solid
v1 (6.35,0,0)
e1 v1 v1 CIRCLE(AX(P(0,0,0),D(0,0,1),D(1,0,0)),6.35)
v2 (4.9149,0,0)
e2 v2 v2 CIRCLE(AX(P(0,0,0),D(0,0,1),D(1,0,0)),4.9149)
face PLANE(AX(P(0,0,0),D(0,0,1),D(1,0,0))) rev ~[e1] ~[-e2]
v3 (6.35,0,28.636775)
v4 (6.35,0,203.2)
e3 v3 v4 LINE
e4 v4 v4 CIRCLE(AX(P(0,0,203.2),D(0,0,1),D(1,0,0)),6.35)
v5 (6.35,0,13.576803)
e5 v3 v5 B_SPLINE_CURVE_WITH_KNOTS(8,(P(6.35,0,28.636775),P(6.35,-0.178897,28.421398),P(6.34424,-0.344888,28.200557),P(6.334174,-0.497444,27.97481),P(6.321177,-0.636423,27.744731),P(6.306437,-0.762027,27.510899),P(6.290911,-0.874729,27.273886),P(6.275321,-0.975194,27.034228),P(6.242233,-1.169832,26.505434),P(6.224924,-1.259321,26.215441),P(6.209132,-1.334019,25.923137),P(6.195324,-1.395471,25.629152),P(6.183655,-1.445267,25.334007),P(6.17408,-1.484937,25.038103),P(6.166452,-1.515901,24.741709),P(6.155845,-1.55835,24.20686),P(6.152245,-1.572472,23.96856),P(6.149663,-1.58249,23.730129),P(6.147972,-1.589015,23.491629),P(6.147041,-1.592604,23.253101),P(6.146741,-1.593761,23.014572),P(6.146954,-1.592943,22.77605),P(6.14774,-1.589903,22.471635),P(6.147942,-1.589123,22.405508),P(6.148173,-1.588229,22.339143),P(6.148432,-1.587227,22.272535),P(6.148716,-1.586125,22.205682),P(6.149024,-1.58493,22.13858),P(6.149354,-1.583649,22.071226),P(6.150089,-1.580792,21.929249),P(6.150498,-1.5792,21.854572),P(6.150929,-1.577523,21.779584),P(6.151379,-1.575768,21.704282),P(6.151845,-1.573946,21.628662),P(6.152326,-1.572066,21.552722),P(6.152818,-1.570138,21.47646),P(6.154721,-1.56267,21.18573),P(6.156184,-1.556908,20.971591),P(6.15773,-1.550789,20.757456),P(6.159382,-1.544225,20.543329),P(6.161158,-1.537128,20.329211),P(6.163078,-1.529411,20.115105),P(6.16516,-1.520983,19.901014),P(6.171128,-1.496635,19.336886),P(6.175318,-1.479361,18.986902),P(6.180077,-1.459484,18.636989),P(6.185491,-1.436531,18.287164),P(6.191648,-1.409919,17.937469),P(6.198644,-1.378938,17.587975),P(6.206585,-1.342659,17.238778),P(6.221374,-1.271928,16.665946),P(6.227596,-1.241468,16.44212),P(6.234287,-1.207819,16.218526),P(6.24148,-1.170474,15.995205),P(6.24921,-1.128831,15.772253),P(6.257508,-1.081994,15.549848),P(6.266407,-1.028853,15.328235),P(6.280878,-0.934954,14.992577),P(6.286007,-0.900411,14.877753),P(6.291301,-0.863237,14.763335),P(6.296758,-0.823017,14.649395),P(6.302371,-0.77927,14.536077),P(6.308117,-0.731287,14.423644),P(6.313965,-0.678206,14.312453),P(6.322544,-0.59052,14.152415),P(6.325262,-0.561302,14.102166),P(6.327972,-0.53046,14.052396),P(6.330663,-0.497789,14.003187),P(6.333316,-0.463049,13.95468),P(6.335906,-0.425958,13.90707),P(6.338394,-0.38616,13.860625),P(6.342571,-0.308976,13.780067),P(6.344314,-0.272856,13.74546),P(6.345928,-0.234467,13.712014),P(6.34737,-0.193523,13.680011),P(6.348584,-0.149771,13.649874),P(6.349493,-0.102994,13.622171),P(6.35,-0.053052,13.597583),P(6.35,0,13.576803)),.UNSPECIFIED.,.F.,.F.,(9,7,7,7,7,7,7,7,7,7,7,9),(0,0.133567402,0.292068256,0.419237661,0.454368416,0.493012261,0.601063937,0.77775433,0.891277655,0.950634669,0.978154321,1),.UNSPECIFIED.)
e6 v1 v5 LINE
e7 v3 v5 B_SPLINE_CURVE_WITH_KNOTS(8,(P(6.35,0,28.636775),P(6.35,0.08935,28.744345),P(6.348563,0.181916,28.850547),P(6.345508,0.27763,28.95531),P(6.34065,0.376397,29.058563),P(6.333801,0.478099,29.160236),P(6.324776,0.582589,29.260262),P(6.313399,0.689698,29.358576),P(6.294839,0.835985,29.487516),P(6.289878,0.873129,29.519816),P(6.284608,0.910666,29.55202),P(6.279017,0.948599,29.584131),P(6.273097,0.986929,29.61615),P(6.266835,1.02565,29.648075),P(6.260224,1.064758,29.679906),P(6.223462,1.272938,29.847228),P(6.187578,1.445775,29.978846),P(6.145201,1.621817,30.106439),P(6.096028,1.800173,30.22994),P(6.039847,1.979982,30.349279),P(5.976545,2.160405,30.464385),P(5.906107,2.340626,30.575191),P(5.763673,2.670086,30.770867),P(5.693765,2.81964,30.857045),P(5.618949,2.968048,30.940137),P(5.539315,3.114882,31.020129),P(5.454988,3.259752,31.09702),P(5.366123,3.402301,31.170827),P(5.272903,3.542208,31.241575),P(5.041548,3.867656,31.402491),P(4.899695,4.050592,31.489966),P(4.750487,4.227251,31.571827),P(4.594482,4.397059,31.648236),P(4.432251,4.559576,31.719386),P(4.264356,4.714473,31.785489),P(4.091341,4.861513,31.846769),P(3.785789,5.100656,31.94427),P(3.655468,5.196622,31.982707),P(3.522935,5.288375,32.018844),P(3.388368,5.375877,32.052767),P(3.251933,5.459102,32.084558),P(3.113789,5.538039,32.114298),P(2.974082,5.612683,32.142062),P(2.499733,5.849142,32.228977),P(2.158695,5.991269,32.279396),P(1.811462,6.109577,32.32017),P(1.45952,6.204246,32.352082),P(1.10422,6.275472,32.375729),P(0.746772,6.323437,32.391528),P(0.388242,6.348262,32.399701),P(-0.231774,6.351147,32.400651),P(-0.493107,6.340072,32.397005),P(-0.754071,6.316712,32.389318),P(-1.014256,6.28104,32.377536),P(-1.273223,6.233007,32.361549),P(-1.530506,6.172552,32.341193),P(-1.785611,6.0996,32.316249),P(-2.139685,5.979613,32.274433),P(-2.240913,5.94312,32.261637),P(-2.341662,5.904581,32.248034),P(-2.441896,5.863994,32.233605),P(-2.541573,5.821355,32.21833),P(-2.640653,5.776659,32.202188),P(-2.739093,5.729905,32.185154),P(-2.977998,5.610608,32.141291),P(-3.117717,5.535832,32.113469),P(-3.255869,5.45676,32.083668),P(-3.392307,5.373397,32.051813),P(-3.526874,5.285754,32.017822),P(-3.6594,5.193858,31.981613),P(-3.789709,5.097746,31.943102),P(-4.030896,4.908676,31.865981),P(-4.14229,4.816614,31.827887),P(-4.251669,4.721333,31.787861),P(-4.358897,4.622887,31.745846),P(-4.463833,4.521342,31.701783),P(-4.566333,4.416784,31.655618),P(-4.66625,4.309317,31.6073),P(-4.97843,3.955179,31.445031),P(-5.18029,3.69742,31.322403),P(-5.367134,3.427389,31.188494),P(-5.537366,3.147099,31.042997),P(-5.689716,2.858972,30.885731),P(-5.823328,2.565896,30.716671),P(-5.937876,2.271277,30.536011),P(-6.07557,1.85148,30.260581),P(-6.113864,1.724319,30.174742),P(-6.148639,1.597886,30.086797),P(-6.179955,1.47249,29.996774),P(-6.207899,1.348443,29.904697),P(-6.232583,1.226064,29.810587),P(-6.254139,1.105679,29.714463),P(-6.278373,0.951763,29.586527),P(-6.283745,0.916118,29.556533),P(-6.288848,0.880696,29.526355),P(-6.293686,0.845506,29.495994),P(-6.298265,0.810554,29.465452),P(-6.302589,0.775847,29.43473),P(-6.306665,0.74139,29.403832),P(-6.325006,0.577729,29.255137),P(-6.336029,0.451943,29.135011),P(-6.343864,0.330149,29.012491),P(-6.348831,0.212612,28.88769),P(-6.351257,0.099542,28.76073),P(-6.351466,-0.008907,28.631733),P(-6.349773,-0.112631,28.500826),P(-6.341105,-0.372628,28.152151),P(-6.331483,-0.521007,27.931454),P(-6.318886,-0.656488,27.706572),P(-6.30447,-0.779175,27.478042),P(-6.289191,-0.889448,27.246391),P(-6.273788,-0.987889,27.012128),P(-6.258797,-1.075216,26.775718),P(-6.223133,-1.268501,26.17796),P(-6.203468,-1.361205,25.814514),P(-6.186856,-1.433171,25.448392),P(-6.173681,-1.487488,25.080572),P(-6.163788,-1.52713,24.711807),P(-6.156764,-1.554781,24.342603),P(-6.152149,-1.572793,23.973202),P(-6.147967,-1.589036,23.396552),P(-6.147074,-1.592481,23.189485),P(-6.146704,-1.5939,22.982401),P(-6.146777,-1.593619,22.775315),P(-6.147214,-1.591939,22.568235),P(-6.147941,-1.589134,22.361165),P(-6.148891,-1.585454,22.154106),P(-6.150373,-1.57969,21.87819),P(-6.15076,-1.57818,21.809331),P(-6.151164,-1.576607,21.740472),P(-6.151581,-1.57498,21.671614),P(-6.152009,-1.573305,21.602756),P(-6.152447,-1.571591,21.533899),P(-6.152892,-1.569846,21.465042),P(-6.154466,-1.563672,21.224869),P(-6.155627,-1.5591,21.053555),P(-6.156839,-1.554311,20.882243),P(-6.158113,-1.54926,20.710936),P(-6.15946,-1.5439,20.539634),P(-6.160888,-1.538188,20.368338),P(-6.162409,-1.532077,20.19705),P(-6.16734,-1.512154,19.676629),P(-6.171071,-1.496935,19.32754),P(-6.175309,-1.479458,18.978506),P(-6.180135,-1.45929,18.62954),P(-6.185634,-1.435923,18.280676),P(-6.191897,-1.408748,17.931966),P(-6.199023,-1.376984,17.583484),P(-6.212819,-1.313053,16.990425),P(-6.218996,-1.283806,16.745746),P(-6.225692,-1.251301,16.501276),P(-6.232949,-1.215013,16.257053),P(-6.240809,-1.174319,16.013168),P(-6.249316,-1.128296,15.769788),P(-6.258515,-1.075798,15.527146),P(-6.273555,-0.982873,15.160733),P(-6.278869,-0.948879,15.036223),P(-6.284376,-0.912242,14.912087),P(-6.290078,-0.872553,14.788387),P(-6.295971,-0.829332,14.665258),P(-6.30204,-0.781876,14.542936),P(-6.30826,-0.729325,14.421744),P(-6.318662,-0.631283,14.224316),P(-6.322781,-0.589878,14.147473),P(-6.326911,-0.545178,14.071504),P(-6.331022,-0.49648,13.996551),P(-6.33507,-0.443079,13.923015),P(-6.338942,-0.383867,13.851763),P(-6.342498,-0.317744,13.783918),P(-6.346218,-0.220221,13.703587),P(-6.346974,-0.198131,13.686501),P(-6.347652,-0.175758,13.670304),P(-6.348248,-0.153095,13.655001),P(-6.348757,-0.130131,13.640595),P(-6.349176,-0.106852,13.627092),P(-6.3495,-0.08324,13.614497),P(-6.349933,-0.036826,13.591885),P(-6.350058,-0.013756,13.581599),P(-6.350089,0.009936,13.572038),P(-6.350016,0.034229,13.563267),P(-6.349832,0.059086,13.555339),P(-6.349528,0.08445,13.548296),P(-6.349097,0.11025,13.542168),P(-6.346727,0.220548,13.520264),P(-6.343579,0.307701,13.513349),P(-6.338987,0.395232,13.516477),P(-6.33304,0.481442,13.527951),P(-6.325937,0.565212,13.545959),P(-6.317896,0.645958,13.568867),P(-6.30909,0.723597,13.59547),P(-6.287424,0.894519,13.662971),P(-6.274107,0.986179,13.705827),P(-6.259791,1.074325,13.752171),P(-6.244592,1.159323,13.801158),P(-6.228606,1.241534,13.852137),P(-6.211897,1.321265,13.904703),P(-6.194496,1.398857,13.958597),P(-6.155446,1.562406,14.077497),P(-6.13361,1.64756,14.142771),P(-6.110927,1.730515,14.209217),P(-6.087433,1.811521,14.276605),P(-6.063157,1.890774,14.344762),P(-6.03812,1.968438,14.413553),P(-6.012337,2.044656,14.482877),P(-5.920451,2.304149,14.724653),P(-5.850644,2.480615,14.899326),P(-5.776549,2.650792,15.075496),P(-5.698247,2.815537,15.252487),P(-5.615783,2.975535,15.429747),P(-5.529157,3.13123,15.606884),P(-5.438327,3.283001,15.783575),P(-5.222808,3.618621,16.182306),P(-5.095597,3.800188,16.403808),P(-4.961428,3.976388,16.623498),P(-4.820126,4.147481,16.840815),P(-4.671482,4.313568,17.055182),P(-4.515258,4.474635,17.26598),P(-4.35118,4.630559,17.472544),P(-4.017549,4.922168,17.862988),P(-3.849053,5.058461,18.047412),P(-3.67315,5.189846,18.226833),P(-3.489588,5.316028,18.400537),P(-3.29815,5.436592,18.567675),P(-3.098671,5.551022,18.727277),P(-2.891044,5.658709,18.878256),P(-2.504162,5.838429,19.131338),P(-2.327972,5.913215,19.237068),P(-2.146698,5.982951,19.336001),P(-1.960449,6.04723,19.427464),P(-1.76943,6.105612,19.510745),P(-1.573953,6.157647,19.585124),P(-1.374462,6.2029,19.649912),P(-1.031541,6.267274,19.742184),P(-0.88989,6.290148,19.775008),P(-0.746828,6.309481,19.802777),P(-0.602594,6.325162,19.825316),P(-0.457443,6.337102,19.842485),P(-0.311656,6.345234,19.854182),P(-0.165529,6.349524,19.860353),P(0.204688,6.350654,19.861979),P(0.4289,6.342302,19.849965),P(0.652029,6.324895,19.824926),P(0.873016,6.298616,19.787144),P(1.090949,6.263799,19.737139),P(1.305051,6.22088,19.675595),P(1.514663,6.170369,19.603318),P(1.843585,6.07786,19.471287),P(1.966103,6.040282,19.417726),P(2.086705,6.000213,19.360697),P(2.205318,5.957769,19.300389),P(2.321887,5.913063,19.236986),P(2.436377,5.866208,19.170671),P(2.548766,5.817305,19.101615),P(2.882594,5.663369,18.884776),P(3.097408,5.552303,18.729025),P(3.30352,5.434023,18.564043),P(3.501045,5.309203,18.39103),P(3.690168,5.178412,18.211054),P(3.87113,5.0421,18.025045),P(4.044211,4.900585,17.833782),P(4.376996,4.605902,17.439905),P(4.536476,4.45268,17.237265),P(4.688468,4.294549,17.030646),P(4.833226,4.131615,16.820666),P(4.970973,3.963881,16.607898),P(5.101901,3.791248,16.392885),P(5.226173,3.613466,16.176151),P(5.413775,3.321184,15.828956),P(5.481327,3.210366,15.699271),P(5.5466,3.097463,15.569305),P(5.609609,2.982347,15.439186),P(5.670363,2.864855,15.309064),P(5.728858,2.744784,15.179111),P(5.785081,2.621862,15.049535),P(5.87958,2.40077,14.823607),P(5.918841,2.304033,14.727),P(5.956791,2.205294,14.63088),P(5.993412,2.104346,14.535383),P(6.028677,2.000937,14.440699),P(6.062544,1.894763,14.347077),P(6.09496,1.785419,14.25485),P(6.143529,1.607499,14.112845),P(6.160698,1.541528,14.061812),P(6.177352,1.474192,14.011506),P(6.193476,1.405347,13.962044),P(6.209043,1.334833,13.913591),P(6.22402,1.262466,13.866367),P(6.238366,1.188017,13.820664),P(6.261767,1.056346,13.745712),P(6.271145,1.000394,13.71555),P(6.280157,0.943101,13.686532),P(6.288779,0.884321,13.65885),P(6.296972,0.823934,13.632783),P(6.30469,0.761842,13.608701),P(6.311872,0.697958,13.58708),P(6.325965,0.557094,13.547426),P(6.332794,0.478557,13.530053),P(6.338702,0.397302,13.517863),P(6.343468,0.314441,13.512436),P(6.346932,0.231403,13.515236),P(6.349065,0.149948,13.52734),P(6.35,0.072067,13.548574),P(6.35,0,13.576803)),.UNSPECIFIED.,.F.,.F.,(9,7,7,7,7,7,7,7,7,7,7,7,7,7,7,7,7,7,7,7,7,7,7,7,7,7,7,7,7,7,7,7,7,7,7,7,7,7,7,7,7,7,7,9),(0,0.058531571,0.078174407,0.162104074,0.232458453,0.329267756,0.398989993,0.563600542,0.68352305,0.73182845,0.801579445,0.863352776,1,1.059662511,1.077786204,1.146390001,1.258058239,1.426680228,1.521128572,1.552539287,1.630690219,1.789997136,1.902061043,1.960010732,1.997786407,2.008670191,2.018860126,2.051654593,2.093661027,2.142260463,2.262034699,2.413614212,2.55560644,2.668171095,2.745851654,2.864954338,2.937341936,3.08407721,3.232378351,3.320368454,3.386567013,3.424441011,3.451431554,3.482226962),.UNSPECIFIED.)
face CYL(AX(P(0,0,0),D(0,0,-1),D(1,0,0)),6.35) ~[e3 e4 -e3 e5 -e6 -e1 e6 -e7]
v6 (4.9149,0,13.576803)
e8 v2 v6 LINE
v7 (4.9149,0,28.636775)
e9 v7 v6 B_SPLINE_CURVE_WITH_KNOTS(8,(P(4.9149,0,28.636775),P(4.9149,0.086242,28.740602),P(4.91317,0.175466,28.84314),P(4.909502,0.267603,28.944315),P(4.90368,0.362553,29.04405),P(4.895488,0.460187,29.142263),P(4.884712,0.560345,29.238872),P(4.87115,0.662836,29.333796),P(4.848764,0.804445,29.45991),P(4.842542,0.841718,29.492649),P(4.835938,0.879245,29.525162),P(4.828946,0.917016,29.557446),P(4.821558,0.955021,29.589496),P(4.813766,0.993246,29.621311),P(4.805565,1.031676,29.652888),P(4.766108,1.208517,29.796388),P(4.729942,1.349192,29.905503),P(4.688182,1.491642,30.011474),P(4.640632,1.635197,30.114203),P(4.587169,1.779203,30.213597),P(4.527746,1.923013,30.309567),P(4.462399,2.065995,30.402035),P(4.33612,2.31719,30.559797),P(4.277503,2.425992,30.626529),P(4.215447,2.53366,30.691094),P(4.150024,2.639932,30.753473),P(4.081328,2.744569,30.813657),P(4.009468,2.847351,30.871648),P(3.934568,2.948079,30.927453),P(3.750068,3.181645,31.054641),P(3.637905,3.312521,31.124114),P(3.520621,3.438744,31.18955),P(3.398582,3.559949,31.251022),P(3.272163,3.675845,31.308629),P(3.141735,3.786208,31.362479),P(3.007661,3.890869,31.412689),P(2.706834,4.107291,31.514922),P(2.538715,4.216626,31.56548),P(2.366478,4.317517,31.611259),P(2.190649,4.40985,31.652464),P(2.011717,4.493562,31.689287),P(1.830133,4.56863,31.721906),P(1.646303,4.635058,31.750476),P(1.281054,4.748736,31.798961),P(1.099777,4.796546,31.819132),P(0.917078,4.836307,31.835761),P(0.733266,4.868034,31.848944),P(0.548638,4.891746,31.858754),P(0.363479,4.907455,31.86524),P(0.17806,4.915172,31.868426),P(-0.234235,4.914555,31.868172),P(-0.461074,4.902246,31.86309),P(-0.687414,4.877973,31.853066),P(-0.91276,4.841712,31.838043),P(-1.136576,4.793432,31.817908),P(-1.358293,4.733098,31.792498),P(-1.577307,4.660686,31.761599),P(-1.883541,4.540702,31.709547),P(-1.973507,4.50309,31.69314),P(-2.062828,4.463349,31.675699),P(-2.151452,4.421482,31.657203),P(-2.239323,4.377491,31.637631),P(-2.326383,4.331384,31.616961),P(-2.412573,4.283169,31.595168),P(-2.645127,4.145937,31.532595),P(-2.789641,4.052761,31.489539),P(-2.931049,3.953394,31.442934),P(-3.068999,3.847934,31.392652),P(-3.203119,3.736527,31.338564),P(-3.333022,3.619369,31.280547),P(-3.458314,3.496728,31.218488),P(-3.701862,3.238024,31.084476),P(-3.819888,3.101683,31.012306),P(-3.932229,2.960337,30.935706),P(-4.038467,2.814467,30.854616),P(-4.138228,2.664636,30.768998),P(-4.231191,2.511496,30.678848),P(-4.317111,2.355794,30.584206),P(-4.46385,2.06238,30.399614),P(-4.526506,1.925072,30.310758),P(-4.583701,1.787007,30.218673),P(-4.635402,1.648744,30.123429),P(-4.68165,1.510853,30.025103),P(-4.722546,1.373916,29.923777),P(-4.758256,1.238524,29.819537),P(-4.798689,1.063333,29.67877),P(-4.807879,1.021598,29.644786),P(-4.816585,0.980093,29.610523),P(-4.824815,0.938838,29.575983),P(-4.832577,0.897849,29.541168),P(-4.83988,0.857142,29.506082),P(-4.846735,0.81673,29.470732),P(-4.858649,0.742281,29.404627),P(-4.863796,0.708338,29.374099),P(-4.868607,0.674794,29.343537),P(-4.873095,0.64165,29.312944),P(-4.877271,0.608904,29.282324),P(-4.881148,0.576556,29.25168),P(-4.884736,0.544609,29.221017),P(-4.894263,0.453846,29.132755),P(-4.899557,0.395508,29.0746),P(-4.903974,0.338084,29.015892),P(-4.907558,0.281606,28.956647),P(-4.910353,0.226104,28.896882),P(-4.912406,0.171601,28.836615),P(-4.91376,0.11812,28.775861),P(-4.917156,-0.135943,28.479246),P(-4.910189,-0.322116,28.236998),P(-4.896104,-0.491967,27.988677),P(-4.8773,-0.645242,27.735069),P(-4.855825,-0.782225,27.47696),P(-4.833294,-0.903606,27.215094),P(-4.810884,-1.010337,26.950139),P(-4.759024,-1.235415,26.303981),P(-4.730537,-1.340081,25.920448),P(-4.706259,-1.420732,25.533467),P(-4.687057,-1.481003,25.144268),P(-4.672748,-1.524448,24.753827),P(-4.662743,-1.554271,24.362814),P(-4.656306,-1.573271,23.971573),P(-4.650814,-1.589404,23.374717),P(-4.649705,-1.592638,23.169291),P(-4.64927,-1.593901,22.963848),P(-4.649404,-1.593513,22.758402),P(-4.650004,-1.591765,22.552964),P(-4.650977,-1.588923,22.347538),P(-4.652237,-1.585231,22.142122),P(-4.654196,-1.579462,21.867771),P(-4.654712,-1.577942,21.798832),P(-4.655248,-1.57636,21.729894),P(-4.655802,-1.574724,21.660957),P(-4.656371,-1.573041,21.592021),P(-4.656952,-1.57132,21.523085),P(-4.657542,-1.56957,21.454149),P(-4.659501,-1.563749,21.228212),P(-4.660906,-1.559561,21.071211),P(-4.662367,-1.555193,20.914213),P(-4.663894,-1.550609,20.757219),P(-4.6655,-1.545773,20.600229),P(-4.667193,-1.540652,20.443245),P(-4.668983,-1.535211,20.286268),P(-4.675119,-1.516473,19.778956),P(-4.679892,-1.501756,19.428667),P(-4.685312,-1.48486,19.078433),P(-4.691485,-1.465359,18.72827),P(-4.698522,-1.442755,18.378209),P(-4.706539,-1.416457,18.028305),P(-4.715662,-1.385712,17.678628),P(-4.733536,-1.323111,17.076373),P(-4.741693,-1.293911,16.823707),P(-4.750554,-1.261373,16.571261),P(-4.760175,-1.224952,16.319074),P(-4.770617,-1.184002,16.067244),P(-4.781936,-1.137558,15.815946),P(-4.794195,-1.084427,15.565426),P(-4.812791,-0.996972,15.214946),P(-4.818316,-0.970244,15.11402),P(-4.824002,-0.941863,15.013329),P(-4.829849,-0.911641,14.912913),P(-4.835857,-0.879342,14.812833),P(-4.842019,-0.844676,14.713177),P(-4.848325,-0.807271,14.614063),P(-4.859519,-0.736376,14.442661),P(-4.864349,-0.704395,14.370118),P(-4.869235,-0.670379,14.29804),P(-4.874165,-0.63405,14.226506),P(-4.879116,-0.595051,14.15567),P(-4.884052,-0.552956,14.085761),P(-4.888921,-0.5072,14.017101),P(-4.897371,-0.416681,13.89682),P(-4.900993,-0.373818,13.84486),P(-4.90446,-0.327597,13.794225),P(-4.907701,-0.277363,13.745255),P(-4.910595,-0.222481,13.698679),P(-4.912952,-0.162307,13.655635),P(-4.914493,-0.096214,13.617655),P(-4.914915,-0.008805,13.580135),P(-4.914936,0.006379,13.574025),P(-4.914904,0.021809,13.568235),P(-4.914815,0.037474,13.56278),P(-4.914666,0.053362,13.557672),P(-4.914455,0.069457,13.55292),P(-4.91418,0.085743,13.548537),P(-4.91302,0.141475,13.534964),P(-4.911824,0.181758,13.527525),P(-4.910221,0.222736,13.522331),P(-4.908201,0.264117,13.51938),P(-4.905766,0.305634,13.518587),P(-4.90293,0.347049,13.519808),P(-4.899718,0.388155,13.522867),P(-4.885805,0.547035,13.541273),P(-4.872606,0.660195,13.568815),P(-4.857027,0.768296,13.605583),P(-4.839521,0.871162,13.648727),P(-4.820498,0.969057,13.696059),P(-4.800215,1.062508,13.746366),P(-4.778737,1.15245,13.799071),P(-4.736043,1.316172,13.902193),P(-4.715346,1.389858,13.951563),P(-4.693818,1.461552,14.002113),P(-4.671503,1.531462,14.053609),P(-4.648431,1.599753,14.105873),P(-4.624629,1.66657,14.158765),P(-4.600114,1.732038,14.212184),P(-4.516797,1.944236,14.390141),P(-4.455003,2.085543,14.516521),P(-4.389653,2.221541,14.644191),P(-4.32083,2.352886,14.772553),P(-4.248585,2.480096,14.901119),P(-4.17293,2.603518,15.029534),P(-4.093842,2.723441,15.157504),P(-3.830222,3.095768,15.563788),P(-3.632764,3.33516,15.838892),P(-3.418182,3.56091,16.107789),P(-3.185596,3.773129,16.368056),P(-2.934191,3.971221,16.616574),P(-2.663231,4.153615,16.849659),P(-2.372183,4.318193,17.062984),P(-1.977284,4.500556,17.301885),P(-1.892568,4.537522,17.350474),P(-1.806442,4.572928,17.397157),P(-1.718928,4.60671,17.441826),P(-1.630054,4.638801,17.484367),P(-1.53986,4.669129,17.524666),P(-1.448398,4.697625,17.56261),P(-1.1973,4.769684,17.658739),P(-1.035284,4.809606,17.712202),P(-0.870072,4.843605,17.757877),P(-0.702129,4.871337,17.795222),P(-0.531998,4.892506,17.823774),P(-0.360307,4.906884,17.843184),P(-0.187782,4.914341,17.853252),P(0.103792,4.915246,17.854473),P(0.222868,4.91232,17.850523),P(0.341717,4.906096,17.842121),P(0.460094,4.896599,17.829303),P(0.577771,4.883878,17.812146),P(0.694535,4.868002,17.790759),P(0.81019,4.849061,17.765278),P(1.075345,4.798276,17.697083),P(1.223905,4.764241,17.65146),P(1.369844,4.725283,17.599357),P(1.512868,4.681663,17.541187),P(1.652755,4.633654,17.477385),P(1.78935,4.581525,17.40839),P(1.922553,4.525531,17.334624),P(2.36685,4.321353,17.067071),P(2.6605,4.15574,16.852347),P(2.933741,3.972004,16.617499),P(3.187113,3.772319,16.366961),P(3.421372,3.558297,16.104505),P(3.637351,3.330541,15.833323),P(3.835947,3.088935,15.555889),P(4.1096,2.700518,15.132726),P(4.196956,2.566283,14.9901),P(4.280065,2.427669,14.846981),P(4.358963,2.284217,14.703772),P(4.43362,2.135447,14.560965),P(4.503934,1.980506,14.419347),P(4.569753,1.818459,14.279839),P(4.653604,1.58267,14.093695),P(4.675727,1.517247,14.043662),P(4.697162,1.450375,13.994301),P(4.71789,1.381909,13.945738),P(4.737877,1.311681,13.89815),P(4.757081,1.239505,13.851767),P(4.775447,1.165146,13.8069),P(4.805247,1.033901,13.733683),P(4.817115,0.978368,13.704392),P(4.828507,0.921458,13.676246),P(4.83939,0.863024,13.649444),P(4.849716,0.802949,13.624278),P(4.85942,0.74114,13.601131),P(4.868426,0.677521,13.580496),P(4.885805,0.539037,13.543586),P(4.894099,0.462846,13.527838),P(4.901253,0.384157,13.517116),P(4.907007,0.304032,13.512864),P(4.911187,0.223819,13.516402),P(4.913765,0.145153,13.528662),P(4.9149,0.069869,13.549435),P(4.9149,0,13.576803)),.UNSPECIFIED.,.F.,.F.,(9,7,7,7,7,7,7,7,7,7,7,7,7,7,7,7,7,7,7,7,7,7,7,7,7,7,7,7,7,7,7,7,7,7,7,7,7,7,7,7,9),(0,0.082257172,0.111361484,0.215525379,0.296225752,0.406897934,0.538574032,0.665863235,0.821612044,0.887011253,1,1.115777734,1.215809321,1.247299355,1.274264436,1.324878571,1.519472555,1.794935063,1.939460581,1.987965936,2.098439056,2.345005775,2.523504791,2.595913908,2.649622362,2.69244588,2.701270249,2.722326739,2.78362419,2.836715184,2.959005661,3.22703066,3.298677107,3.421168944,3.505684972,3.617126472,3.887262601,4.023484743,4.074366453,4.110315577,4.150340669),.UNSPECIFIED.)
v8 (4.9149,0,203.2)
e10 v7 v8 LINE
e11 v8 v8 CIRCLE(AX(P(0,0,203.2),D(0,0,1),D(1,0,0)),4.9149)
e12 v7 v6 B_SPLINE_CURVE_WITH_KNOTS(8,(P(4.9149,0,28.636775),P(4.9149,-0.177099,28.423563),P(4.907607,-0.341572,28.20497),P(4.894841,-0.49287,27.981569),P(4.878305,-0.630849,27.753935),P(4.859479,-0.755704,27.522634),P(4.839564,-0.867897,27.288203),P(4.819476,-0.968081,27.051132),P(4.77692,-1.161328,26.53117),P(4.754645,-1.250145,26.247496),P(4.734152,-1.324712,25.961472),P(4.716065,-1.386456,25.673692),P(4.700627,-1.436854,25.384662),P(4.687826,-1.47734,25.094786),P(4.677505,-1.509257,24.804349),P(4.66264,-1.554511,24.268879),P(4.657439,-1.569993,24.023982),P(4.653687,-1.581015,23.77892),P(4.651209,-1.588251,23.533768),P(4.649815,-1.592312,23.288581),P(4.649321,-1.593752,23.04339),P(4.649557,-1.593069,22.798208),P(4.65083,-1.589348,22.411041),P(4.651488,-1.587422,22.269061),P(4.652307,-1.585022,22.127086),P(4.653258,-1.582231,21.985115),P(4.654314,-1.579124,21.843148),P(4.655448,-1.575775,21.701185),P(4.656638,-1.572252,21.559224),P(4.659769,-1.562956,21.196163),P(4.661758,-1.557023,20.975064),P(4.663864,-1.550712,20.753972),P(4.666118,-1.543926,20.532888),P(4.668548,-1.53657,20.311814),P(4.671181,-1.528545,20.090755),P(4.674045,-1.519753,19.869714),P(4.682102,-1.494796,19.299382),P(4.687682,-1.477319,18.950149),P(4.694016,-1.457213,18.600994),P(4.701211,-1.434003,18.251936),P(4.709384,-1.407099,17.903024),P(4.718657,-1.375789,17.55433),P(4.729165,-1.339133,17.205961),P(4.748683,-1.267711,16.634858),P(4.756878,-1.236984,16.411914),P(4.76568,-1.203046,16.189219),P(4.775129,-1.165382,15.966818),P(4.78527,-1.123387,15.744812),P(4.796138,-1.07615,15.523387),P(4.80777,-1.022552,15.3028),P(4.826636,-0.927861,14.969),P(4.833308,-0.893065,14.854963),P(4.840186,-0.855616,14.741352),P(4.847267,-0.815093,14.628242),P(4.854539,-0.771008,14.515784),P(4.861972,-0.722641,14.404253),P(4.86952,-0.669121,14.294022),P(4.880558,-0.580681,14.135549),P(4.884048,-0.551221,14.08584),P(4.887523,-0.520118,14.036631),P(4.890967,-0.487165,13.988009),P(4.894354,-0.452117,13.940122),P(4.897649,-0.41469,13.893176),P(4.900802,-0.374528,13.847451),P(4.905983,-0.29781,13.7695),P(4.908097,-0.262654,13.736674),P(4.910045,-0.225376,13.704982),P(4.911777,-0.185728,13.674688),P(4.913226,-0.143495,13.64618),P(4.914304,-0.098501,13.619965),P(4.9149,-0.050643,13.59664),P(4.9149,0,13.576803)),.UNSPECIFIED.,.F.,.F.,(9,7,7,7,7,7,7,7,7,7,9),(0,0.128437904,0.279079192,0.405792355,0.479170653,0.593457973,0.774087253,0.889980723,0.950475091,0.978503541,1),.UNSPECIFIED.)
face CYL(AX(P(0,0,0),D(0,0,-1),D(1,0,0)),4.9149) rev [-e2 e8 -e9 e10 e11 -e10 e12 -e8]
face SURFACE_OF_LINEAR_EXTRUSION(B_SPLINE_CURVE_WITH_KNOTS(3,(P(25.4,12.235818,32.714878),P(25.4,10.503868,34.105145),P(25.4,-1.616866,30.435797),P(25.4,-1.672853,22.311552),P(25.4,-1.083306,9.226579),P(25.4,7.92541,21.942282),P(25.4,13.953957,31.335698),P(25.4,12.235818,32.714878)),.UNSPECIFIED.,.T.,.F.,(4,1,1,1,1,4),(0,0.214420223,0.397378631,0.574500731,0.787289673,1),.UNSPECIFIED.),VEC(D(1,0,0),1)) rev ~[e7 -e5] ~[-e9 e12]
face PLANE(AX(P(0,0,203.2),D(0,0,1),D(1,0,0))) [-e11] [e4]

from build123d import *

# Parameters (mm, degrees)
F0_R     = 6.35
F0_R_2   = 4.9149
F1_DEPTH = 203.2
F4_DEPTH = 46.99


with BuildPart() as f1:
    # F0 (on Top) → F1 (new body)
    with BuildSketch(Plane.XY):
        Circle(F0_R)
        Circle(F0_R_2, mode=Mode.SUBTRACT)
    extrude(amount=F1_DEPTH)

    # F3 (on offset) → F4 (cut)
    with BuildSketch(Plane.YZ.offset(25.4)):
        with BuildLine():
            add(Edge.make_bspline(
                [(12.2358184308, 32.7148782089), (10.5038681528, 34.1051447708), (-1.6168660772, 30.4357971635), (-1.6728531057, 22.3115517096), (-1.0833059754, 9.2265793962), (7.9254095039, 21.9422816832), (13.9539572553, 31.3356983407), (12.2358184308, 32.7148782089)],
                knots=[0, 0, 0, 0, 0.2144202227, 0.3973786309, 0.5745007308, 0.7872896733, 1, 1, 1, 1], degree=3))
        make_face()
    extrude(amount=-F4_DEPTH, mode=Mode.SUBTRACT)


solid = f1.part
